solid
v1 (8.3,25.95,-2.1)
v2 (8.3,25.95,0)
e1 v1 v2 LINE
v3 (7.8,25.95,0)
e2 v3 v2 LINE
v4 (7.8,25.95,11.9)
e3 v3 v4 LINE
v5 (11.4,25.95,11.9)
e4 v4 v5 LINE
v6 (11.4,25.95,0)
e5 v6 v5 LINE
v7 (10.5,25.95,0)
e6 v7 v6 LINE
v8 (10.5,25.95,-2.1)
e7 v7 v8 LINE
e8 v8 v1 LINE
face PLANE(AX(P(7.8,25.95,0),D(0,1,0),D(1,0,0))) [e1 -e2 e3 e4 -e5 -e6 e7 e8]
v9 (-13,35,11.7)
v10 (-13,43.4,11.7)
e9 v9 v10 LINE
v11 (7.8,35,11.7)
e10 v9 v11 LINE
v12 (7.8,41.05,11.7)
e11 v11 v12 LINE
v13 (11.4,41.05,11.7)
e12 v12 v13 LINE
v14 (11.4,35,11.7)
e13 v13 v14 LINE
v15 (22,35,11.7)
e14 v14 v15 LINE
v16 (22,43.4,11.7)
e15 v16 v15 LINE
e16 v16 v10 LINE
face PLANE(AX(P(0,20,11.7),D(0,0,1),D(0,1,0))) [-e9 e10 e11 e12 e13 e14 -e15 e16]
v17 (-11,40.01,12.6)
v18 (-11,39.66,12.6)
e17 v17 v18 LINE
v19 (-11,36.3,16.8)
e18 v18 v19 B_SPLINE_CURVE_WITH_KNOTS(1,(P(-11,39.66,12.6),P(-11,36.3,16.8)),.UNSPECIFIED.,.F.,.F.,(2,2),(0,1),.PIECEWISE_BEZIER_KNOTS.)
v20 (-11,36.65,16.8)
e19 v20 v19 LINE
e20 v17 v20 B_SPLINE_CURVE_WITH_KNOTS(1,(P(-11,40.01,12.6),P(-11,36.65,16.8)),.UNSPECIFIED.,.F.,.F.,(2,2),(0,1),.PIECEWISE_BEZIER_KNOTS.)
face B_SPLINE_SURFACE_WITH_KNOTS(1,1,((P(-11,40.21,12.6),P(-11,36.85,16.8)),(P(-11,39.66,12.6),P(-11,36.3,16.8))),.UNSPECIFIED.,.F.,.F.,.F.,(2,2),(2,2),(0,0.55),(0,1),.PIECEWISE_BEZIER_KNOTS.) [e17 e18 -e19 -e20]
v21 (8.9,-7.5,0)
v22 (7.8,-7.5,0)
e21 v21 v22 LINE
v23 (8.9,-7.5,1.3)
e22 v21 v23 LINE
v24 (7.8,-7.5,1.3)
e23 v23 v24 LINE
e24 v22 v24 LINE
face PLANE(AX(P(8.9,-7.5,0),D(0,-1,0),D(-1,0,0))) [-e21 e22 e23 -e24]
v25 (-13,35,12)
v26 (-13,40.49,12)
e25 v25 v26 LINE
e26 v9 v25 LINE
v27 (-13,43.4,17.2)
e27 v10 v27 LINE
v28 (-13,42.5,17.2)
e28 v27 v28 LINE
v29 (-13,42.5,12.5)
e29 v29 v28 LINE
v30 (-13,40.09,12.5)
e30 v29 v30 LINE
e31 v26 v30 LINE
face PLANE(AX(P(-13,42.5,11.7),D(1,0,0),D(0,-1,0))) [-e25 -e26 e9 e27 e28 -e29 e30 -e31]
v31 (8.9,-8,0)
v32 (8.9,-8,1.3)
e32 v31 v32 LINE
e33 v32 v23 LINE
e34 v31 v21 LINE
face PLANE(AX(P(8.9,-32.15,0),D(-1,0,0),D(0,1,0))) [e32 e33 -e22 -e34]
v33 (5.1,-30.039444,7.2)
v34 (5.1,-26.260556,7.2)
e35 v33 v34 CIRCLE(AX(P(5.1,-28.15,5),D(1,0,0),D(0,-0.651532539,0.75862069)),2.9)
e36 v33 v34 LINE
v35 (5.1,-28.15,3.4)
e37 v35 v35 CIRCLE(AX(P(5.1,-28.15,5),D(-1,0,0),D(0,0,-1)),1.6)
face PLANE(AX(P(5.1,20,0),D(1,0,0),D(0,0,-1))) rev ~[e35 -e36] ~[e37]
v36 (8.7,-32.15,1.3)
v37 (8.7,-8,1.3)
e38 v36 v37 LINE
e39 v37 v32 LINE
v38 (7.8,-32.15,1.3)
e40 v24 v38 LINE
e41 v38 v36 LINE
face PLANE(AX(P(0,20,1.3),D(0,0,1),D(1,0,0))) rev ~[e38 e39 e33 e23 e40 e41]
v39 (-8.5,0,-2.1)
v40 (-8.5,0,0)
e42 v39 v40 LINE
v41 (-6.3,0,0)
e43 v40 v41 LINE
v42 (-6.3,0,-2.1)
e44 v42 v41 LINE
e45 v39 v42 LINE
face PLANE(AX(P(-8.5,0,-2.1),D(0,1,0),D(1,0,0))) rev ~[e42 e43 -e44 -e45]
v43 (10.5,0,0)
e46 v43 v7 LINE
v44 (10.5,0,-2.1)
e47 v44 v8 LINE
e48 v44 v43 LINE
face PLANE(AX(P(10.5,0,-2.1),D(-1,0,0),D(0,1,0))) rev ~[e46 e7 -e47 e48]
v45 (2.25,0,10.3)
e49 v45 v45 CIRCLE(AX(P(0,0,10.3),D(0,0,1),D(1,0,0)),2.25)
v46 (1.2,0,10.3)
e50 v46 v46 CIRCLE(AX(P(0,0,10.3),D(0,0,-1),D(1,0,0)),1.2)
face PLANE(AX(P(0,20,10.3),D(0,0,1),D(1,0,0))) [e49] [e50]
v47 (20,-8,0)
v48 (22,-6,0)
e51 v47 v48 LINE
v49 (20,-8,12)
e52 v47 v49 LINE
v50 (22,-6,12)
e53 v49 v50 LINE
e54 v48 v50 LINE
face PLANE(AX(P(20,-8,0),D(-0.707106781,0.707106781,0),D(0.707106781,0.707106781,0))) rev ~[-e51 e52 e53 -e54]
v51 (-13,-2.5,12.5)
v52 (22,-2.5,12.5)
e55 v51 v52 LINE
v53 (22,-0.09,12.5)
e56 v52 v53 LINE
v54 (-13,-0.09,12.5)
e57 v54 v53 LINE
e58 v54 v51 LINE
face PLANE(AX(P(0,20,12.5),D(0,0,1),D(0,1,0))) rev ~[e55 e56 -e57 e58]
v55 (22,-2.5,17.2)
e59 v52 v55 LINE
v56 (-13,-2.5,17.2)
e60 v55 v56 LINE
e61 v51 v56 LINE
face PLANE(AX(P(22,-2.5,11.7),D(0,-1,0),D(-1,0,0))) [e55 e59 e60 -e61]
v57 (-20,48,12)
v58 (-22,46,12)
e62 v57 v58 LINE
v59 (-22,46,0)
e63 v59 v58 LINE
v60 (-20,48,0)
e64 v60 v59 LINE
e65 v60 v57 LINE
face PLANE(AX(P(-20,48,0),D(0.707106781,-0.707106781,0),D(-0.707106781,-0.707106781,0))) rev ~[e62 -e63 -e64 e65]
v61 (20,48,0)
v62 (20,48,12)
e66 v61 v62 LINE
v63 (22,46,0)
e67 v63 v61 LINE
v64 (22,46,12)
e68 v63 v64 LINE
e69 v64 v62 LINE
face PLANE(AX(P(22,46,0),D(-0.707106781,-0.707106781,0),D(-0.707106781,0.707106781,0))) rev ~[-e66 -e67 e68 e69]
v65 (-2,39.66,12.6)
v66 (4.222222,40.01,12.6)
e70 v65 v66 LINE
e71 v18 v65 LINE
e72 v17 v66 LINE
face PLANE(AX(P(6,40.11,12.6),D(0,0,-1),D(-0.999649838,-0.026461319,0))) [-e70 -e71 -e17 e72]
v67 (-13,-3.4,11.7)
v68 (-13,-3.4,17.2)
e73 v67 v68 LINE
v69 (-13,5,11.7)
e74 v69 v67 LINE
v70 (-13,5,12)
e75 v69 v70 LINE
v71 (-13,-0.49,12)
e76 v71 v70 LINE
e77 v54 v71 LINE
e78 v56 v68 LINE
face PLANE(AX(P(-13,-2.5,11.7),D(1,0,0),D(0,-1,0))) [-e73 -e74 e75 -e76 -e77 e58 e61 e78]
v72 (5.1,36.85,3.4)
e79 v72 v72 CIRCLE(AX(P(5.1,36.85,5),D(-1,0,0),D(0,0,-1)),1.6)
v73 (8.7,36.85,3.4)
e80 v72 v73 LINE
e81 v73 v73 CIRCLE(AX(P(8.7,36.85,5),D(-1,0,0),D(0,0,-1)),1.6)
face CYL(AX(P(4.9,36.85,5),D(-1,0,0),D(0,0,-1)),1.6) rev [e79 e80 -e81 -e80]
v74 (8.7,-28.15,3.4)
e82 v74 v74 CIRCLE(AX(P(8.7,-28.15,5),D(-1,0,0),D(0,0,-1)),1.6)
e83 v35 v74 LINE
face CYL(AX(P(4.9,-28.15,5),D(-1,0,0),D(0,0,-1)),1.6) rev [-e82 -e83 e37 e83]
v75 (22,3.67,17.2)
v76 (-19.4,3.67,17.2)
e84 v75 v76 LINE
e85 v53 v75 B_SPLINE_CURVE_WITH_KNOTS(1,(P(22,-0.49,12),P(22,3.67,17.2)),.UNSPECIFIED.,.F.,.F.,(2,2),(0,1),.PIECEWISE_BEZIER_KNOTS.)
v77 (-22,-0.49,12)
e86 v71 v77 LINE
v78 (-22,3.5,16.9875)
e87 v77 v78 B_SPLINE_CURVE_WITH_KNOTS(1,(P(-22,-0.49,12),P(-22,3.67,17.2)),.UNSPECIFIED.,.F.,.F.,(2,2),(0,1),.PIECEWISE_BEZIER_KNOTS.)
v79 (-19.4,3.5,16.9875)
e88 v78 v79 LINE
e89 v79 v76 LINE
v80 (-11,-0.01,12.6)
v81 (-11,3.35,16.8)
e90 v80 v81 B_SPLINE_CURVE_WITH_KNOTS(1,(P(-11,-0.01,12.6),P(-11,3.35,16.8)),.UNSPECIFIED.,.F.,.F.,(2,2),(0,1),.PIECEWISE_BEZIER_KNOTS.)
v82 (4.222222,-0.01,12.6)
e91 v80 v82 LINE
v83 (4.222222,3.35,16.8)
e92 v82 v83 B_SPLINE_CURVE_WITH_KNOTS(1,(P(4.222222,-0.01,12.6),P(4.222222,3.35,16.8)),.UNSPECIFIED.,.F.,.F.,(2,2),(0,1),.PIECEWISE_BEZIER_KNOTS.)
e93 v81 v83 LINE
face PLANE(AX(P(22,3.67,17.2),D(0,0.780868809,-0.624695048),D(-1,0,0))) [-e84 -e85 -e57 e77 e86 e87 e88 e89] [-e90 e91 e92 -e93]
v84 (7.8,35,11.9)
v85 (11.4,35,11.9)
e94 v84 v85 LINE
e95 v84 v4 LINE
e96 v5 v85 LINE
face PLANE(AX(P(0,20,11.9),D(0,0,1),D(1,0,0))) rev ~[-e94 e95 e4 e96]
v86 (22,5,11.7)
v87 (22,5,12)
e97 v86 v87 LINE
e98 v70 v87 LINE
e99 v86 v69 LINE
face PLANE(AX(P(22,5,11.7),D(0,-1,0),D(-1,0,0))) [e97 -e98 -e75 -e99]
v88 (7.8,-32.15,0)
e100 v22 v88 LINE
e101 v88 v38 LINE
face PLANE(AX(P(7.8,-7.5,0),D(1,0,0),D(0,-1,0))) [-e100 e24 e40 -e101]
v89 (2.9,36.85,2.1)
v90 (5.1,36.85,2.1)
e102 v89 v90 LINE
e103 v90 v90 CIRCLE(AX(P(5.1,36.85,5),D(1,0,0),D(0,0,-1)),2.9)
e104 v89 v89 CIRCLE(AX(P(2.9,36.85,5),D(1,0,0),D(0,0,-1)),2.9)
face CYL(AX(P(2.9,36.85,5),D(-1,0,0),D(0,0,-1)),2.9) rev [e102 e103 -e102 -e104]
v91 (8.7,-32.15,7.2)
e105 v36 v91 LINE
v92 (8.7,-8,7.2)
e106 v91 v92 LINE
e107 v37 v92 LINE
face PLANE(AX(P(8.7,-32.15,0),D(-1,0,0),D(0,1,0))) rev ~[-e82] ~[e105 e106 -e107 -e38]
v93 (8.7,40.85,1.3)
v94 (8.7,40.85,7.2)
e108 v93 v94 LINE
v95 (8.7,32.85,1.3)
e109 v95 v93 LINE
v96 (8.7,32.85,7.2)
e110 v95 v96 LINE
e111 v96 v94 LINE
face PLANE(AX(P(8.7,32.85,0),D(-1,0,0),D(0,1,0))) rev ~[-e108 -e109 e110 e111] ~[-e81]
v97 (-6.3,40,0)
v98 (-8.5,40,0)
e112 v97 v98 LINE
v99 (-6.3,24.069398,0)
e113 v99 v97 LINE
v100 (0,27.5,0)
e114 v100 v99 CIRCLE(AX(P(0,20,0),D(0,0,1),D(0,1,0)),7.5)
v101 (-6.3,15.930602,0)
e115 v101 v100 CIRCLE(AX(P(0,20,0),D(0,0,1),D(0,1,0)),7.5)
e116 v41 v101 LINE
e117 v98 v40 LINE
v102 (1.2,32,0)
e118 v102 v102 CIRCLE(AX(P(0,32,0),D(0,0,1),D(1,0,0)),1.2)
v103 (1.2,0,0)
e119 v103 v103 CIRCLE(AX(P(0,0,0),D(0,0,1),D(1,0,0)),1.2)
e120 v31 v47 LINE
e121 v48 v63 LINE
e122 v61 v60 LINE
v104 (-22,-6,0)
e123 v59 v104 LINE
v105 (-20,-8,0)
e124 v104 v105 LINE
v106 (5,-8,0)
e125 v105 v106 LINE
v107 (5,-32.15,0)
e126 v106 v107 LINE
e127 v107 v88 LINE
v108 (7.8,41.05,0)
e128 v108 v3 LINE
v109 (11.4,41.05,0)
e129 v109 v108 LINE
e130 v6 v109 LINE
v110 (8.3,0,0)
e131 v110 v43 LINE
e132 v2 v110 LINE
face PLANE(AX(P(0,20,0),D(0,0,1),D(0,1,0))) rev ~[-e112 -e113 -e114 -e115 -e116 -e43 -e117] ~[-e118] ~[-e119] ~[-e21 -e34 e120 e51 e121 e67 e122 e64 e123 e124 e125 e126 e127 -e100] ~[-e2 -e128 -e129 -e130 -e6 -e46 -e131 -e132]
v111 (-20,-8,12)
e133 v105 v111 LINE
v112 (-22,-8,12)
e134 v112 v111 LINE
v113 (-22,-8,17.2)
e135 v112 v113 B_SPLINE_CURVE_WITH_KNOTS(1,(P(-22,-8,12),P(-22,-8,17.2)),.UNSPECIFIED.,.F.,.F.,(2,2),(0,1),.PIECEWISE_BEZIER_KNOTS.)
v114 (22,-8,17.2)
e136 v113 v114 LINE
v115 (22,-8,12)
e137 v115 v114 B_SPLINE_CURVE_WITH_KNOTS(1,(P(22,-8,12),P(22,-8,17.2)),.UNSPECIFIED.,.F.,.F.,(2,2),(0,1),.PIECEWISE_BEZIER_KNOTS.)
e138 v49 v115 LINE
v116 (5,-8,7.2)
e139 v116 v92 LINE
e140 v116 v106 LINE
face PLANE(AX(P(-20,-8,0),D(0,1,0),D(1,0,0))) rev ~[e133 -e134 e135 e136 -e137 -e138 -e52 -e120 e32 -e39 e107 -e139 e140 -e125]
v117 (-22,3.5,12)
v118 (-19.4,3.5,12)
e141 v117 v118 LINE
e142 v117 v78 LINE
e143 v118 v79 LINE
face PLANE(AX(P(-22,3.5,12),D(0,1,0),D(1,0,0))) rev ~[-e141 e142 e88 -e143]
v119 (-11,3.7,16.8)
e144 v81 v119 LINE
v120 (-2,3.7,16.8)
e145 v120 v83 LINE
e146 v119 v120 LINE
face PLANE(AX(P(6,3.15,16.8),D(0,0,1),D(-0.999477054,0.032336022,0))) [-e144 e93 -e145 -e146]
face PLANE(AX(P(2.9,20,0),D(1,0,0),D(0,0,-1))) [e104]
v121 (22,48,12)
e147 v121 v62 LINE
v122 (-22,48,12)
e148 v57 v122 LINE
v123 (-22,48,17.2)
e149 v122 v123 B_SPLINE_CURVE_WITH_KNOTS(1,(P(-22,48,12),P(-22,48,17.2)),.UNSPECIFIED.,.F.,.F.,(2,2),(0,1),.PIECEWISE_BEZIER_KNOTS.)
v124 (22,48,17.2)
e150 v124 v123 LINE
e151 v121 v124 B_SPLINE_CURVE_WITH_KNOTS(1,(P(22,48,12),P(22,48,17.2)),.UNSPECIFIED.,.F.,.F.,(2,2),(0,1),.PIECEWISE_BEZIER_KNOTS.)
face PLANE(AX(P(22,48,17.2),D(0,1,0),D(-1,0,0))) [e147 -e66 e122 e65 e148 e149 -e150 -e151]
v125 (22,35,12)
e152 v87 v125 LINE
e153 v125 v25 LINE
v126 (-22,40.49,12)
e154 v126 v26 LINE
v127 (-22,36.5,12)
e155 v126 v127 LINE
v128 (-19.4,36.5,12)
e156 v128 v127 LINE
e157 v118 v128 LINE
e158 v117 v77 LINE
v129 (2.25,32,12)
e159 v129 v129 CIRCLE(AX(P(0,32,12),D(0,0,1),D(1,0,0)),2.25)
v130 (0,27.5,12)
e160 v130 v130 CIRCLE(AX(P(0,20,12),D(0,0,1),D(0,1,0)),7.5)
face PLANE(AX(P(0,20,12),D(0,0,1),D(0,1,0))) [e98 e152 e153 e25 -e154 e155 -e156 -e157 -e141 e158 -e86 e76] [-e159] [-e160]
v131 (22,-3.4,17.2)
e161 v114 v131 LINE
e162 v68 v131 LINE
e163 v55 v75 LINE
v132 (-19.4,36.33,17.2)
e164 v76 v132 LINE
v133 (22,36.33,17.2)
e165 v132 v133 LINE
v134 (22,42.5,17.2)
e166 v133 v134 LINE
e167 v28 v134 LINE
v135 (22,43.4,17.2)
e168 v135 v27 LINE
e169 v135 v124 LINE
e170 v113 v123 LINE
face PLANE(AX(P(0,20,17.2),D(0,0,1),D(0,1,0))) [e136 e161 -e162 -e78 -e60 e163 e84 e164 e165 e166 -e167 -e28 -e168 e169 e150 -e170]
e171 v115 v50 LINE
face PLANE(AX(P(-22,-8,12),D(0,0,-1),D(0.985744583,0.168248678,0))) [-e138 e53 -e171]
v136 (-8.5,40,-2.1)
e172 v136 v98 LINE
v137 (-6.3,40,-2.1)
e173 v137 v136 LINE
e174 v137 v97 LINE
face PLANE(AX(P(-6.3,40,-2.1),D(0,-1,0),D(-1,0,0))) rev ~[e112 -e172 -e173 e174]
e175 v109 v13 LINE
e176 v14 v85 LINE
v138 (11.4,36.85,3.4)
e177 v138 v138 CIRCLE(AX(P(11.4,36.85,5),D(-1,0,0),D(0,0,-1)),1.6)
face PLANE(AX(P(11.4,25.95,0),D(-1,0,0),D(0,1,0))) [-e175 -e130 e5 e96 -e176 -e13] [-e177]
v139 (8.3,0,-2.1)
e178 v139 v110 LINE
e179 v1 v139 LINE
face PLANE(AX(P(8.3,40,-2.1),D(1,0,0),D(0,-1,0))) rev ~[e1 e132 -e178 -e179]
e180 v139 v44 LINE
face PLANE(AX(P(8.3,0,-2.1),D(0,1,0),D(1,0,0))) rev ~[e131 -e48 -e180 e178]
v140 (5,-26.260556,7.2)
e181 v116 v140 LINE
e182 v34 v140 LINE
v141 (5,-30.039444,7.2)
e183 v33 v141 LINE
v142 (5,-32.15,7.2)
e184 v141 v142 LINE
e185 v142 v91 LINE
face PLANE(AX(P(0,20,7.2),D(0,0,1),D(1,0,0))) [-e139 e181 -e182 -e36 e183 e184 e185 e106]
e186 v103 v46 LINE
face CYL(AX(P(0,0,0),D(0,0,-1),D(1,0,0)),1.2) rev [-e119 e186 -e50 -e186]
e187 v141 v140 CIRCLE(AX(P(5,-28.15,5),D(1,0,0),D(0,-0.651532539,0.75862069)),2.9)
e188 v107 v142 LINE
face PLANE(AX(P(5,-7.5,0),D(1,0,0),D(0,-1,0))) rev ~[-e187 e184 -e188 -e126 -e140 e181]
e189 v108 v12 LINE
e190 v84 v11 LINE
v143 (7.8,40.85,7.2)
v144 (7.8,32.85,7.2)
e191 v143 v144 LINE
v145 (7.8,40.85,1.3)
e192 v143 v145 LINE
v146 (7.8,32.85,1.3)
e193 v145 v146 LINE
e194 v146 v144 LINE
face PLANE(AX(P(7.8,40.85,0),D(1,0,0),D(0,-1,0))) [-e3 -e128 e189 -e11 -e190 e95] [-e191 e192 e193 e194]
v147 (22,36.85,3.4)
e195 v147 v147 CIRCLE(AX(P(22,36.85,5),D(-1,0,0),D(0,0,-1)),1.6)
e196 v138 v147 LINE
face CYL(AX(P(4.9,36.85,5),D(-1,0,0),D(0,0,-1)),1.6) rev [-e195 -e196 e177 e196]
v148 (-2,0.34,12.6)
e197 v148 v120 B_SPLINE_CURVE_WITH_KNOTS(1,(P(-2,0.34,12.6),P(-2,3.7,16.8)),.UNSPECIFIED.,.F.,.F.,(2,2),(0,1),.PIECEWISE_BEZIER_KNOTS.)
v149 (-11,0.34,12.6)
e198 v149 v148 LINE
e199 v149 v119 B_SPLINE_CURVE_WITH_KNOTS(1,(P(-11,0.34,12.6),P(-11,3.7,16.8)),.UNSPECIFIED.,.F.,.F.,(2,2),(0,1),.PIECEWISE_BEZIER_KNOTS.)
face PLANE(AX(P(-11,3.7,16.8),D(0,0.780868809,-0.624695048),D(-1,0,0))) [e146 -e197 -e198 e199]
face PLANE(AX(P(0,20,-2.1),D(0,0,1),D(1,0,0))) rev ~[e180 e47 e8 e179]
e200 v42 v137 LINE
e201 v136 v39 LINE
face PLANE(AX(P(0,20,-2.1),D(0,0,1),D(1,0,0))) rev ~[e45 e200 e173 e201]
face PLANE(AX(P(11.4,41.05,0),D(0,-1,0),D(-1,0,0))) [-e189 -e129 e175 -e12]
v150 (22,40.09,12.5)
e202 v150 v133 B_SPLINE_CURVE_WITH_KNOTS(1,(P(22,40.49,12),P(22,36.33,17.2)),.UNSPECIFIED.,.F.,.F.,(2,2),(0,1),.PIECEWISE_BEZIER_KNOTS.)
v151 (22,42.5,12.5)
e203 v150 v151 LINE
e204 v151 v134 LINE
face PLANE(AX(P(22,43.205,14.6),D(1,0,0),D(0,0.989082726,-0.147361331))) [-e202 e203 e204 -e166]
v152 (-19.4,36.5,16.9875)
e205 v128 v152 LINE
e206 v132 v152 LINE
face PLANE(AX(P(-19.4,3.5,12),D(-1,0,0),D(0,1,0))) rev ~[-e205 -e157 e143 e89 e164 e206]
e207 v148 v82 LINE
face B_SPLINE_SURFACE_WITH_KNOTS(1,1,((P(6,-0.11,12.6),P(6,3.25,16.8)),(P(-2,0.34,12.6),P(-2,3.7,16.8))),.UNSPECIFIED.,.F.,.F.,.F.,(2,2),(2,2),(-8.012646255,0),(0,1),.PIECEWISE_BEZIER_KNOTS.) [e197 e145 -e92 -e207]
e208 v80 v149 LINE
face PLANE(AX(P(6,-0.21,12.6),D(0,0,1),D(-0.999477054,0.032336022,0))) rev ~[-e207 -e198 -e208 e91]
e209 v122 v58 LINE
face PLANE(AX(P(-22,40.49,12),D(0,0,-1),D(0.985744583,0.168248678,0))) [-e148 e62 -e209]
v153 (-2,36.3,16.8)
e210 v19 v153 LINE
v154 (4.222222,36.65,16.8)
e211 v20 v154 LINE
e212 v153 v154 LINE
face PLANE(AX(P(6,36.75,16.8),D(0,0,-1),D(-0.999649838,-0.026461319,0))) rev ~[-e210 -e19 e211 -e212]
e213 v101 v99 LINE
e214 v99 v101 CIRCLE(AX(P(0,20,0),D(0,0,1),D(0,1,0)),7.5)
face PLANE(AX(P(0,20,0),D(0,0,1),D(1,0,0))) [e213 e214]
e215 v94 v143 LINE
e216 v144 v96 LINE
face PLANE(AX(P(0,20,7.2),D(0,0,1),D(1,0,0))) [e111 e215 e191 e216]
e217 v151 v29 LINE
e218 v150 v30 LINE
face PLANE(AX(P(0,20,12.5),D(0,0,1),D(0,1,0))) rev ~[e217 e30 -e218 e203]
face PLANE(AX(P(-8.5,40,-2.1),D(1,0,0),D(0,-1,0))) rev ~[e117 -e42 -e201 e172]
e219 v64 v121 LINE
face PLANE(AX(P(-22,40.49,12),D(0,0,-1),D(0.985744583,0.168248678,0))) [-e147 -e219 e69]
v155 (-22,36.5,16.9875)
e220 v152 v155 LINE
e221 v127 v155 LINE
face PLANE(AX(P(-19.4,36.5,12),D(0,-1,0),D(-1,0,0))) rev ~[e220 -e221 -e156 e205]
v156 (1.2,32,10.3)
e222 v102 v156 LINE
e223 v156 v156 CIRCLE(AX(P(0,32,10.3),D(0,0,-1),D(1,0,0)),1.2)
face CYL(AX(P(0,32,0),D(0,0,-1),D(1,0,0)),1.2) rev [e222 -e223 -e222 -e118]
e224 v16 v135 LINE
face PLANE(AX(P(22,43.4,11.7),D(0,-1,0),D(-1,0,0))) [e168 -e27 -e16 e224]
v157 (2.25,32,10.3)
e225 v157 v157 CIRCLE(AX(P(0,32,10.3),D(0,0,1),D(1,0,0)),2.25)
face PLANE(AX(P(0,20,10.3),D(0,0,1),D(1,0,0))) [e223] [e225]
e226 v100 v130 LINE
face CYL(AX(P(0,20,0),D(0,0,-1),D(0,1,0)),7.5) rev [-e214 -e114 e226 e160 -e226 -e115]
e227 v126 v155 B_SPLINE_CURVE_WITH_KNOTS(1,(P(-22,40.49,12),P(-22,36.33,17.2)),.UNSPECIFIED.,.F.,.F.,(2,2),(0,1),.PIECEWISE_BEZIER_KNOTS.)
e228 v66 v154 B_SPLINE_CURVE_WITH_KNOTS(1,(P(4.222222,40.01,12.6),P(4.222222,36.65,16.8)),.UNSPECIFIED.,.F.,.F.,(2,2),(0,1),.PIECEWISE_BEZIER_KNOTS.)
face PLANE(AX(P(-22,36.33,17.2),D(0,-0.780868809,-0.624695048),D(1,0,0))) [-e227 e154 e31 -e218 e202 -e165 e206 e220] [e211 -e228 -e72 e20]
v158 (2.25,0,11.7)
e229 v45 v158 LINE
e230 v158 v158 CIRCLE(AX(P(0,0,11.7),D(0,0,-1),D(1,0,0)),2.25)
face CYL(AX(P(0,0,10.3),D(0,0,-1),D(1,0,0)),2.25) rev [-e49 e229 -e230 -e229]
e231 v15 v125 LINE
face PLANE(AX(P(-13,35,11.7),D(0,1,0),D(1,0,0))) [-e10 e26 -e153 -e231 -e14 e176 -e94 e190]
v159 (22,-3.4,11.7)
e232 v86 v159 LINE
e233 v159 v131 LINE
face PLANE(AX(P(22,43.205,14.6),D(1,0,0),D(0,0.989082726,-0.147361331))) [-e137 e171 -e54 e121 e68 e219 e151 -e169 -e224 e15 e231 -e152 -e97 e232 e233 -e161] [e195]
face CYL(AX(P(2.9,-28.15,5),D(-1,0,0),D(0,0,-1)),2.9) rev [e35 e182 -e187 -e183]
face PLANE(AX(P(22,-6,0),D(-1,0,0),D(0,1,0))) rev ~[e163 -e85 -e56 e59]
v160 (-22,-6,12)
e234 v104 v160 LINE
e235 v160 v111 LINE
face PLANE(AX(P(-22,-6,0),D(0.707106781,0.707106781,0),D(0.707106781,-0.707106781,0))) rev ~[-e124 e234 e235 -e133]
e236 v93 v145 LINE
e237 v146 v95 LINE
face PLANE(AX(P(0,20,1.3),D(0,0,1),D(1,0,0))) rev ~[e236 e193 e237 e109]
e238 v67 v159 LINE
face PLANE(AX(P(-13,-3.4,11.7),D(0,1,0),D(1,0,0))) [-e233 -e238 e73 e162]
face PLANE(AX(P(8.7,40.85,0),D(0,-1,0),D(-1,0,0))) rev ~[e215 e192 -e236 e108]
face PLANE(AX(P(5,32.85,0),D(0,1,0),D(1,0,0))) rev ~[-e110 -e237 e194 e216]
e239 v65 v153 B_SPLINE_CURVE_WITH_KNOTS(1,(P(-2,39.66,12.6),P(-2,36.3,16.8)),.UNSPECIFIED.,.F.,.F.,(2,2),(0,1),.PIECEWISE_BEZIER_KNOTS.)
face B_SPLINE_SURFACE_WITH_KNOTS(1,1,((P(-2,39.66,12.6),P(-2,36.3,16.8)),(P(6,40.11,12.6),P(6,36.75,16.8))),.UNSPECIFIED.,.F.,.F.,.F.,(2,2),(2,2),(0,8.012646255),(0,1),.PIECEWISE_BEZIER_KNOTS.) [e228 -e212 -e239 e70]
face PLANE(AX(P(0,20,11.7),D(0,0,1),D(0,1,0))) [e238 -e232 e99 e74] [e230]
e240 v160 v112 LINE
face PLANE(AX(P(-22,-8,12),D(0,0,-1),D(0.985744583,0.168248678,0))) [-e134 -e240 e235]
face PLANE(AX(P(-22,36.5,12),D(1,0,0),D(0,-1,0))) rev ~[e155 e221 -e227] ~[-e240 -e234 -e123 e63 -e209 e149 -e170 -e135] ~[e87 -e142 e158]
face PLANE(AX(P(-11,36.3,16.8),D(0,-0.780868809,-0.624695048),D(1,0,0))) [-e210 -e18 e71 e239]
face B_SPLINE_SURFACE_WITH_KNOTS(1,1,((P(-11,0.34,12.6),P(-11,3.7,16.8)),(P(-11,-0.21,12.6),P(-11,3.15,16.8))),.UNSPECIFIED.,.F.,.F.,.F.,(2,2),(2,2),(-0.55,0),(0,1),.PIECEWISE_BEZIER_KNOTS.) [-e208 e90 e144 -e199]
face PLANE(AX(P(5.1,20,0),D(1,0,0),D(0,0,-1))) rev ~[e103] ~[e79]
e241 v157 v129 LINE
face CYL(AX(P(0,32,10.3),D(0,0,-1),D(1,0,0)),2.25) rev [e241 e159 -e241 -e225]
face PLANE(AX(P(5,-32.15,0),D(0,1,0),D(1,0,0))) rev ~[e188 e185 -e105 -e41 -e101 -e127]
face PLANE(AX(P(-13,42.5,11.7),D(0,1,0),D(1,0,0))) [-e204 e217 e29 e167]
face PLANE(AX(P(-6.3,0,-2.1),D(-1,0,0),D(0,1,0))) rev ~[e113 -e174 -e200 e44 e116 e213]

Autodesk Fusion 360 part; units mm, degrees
ref_plane "工作平面1" through (0, 0, 0) normal (0, 0, 1) x (1, 0, 0)
sketch "草图1" plane through (0, 0, 0) normal (0, 0, 1) x (1, 0, 0)
  line L0 (-26, -22) -> (26, -22)
  line L1 (26, -22) -> (28, -20)
  line L2 (28, -20) -> (28, 20)
  line L3 (28, 20) -> (26, 22)
  line L4 (26, 22) -> (-26, 22)
  line L5 (-26, 22) -> (-28, 20)
  line L6 (-28, 20) -> (-28, -20)
  line L7 (-28, -20) -> (-26, -22)
extrude "56 x 44 x 7 platform" add sketch "草图1" along normal blind 12
ref_plane "工作平面2" through (0, 0, 12) normal (0, 0, 1) x (1, 0, 0)
sketch "草图2" plane through (0, 0, 12) normal (0, 0, 1) x (1, 0, 0)
  line L0 (-28, -22) -> (-20.49, -22)
  line L1 (-20.49, -22) -> (-20.49, 22)
  line L2 (-20.49, 22) -> (-28, 22)
  line L3 (-28, 22) -> (-28, -22)
ref_plane "工作平面3" through (0, 0, 17.2) normal (0, 0, 1) x (1, 0, 0)
sketch "草图3" plane through (0, 0, 17.2) normal (0, 0, 1) x (1, 0, 0)
  line L0 (-28, -22) -> (-16.33, -22)
  line L1 (-16.33, -22) -> (-16.33, 22)
  line L2 (-16.33, 22) -> (-28, 22)
  line L3 (-28, 22) -> (-28, -22)
loft "Dovetail retaining rail 0.8 to 1 -1" add profiles "草图2", "草图3" section 1 section 2
ref_plane "工作平面4" through (0, 0, 11.7) normal (0, 0, 1) x (1, 0, 0)
sketch "草图4" plane through (0, 0, 11.7) normal (0, 0, 1) x (1, 0, 0)
  line L0 (-23.4, -22) -> (-22.5, -22)
  line L1 (-22.5, -22) -> (-22.5, 13)
  line L2 (-22.5, 13) -> (-23.4, 13)
  line L3 (-23.4, 13) -> (-23.4, -22)
extrude "0.9 mm longitudinal flexure slot -1" cut sketch "草图4" along normal blind 5.8
ref_plane "工作平面5" through (0, 0, 11.7) normal (0, 0, 1) x (1, 0, 0)
sketch "草图5" plane through (0, 0, 11.7) normal (0, 0, 1) x (1, 0, 0)
  line L0 (-22.5, -22) -> (-15, -22)
  line L1 (-15, -22) -> (-15, 13)
  line L2 (-15, 13) -> (-22.5, 13)
  line L3 (-22.5, 13) -> (-22.5, -22)
extrude "0.8 mm flexure underside relief -1" cut sketch "草图5" along normal blind 0.8
ref_plane "工作平面6" through (0, 0, 12.6) normal (0, 0, 1) x (1, 0, 0)
sketch "草图6" plane through (0, 0, 12.6) normal (0, 0, 1) x (1, 0, 0)
  line L0 (-20.21, -6) -> (-20.21, 11)
  line L1 (-20.21, 11) -> (-19.66, 11)
  line L2 (-19.66, 11) -> (-19.66, 2)
  line L3 (-19.66, 2) -> (-20.11, -6)
  line L4 (-20.11, -6) -> (-20.21, -6)
ref_plane "工作平面7" through (0, 0, 16.8) normal (0, 0, 1) x (1, 0, 0)
sketch "草图7" plane through (0, 0, 16.8) normal (0, 0, 1) x (1, 0, 0)
  line L0 (-16.85, -6) -> (-16.85, 11)
  line L1 (-16.85, 11) -> (-16.3, 11)
  line L2 (-16.3, 11) -> (-16.3, 2)
  line L3 (-16.3, 2) -> (-16.75, -6)
  line L4 (-16.75, -6) -> (-16.85, -6)
loft "Tapered friction contact rib -1" add profiles "草图6", "草图7" section 1 section 2
ref_plane "工作平面8" through (0, 0, 12) normal (0, 0, 1) x (1, 0, 0)
sketch "草图8" plane through (0, 0, 12) normal (0, 0, 1) x (1, 0, 0)
  line L0 (20.49, -22) -> (28, -22)
  line L1 (28, -22) -> (28, 22)
  line L2 (28, 22) -> (20.49, 22)
  line L3 (20.49, 22) -> (20.49, -22)
ref_plane "工作平面9" through (0, 0, 17.2) normal (0, 0, 1) x (1, 0, 0)
sketch "草图9" plane through (0, 0, 17.2) normal (0, 0, 1) x (1, 0, 0)
  line L0 (16.33, -22) -> (28, -22)
  line L1 (28, -22) -> (28, 22)
  line L2 (28, 22) -> (16.33, 22)
  line L3 (16.33, 22) -> (16.33, -22)
loft "Dovetail retaining rail 0.8 to 1 1" add profiles "草图8", "草图9" section 1 section 2
ref_plane "工作平面10" through (0, 0, 11.7) normal (0, 0, 1) x (1, 0, 0)
sketch "草图10" plane through (0, 0, 11.7) normal (0, 0, 1) x (1, 0, 0)
  line L0 (22.5, -22) -> (23.4, -22)
  line L1 (23.4, -22) -> (23.4, 13)
  line L2 (23.4, 13) -> (22.5, 13)
  line L3 (22.5, 13) -> (22.5, -22)
extrude "0.9 mm longitudinal flexure slot 1" cut sketch "草图10" along normal blind 5.8
ref_plane "工作平面11" through (0, 0, 11.7) normal (0, 0, 1) x (1, 0, 0)
sketch "草图11" plane through (0, 0, 11.7) normal (0, 0, 1) x (1, 0, 0)
  line L0 (15, -22) -> (22.5, -22)
  line L1 (22.5, -22) -> (22.5, 13)
  line L2 (22.5, 13) -> (15, 13)
  line L3 (15, 13) -> (15, -22)
extrude "0.8 mm flexure underside relief 1" cut sketch "草图11" along normal blind 0.8
ref_plane "工作平面12" through (0, 0, 12.6) normal (0, 0, 1) x (1, 0, 0)
sketch "草图12" plane through (0, 0, 12.6) normal (0, 0, 1) x (1, 0, 0)
  line L0 (20.21, -6) -> (20.21, 11)
  line L1 (20.21, 11) -> (19.66, 11)
  line L2 (19.66, 11) -> (19.66, 2)
  line L3 (19.66, 2) -> (20.11, -6)
  line L4 (20.11, -6) -> (20.21, -6)
ref_plane "工作平面13" through (0, 0, 16.8) normal (0, 0, 1) x (1, 0, 0)
sketch "草图13" plane through (0, 0, 16.8) normal (0, 0, 1) x (1, 0, 0)
  line L0 (16.85, -6) -> (16.85, 11)
  line L1 (16.85, 11) -> (16.3, 11)
  line L2 (16.3, 11) -> (16.3, 2)
  line L3 (16.3, 2) -> (16.75, -6)
  line L4 (16.75, -6) -> (16.85, -6)
loft "Tapered friction contact rib 1" add profiles "草图12", "草图13" section 1 section 2
ref_plane "工作平面14" through (0, 0, 12) normal (0, 0, 1) x (1, 0, 0)
sketch "草图14" plane through (0, 0, 12) normal (0, 0, 1) x (1, 0, 0)
  line L0 (-16.5, 19.4) -> (16.5, 19.4)
  line L1 (16.5, 19.4) -> (16.5, 22)
  line L2 (16.5, 22) -> (-16.5, 22)
  line L3 (-16.5, 22) -> (-16.5, 19.4)
extrude "Closed insertion end stop" add sketch "草图14" along normal blind 5.2
ref_plane "工作平面15" through (0, 0, 0) normal (0, 0, 1) x (1, 0, 0)
sketch "草图15" plane through (0, 0, 0) normal (0, 0, 1) x (1, 0, 0)
  circle A0 centre (0, 0) radius 7.5
extrude "15 mm screw and driver access" cut sketch "草图15" along normal blind 12
move_body "Align camera long edge with gimbal arm - 90 degrees" bodies 1 to x (0, 1, 0) y (-1, 0, 0) z (0, 0, 1) at (0, 0, 0)
ref_plane "工作平面16" through (0, 0, 0) normal (0, 0, 1) x (1, 0, 0)
sketch "草图16" plane through (0, 0, 0) normal (0, 0, 1) x (1, 0, 0)
  line L0 (7.8, 5.95) -> (11.4, 5.95)
  line L1 (11.4, 5.95) -> (11.4, 21.05)
  line L2 (11.4, 21.05) -> (7.8, 21.05)
  line L3 (7.8, 21.05) -> (7.8, 5.95)
extrude "Clear original raised tab and root fillet" cut sketch "草图16" along normal blind 11.9
ref_plane "工作平面17" through (0, 0, -2.1) normal (0, 0, 1) x (1, 0, 0)
sketch "草图17" plane through (0, 0, -2.1) normal (0, 0, 1) x (1, 0, 0)
  line L0 (-8.5, -20) -> (-6.3, -20)
  line L1 (-6.3, -20) -> (-6.3, 20)
  line L2 (-6.3, 20) -> (-8.5, 20)
  line L3 (-8.5, 20) -> (-8.5, -20)
extrude "Arm lateral locating shoulder" add sketch "草图17" along normal blind 2.1
ref_plane "工作平面18" through (0, 0, -2.1) normal (0, 0, 1) x (1, 0, 0)
sketch "草图18" plane through (0, 0, -2.1) normal (0, 0, 1) x (1, 0, 0)
  line L0 (8.3, -20) -> (10.5, -20)
  line L1 (10.5, -20) -> (10.5, 20)
  line L2 (10.5, 20) -> (8.3, 20)
  line L3 (8.3, 20) -> (8.3, -20)
extrude "Arm lateral locating shoulder (1)" add sketch "草图18" along normal blind 2.1
ref_plane "工作平面19" through (0, 0, 0) normal (0, 0, 1) x (1, 0, 0)
sketch "草图19" plane through (0, 0, 0) normal (0, 0, 1) x (1, 0, 0)
  circle A0 centre (0, -20) radius 1.2
extrude "M2 through clearance at y -20.0" cut sketch "草图19" along normal blind 12
ref_plane "工作平面20" through (0, 0, 10.3) normal (0, 0, 1) x (1, 0, 0)
sketch "草图20" plane through (0, 0, 10.3) normal (0, 0, 1) x (1, 0, 0)
  circle A0 centre (0, -20) radius 2.25
extrude "M2 head recess at y -20.0" cut sketch "草图20" along normal blind 1.7
ref_plane "工作平面21" through (0, 0, 0) normal (0, 0, 1) x (1, 0, 0)
sketch "草图21" plane through (0, 0, 0) normal (0, 0, 1) x (1, 0, 0)
  circle A0 centre (0, 12) radius 1.2
extrude "M2 through clearance at y 12.0" cut sketch "草图21" along normal blind 12
ref_plane "工作平面22" through (0, 0, 10.3) normal (0, 0, 1) x (1, 0, 0)
sketch "草图22" plane through (0, 0, 10.3) normal (0, 0, 1) x (1, 0, 0)
  circle A0 centre (0, 12) radius 2.25
extrude "M2 head recess at y 12.0" cut sketch "草图22" along normal blind 1.7
ref_plane "工作平面23" through (0, 0, 0) normal (0, 0, 1) x (1, 0, 0)
sketch "草图23" plane through (0, 0, 0) normal (0, 0, 1) x (1, 0, 0)
  line L0 (5, -52.15) -> (8.7, -52.15)
  line L1 (8.7, -52.15) -> (8.7, -27.5)
  line L2 (8.7, -27.5) -> (5, -27.5)
  line L3 (5, -27.5) -> (5, -52.15)
extrude "Ear for original 3.2 mm side hole at arm y -28.15" add sketch "草图23" along normal blind 7.2
ref_plane "工作平面24" through (0, 0, 0) normal (0, 0, 1) x (1, 0, 0)
sketch "草图24" plane through (0, 0, 0) normal (0, 0, 1) x (1, 0, 0)
  line L0 (7.8, -52.15) -> (8.9, -52.15)
  line L1 (8.9, -52.15) -> (8.9, -27.5)
  line L2 (8.9, -27.5) -> (7.8, -27.5)
  line L3 (7.8, -27.5) -> (7.8, -52.15)
extrude "Ear relief around original arm root radius" cut sketch "草图24" along normal blind 1.3
ref_plane "工作平面25" through (4.9, 0, 0) normal (1, 0, 0) x (0, 1, 0)
sketch "草图25" plane through (4.9, 0, 0) normal (1, 0, 0) x (0, 0, -1)
  circle A0 centre (-5, -48.15) radius 1.6
extrude "Side rivet full passage clearance" cut sketch "草图25" along normal blind 20
ref_plane "工作平面26" through (2.9, 0, 0) normal (1, 0, 0) x (0, 1, 0)
sketch "草图26" plane through (2.9, 0, 0) normal (1, 0, 0) x (0, 0, -1)
  circle A0 centre (-5, -48.15) radius 2.9
extrude "Side rivet flange counterbore" cut sketch "草图26" along normal blind 2.2
ref_plane "工作平面27" through (0, 0, 0) normal (0, 0, 1) x (1, 0, 0)
sketch "草图27" plane through (0, 0, 0) normal (0, 0, 1) x (1, 0, 0)
  line L0 (5, 12.85) -> (8.7, 12.85)
  line L1 (8.7, 12.85) -> (8.7, 20.85)
  line L2 (8.7, 20.85) -> (5, 20.85)
  line L3 (5, 20.85) -> (5, 12.85)
extrude "Ear for original 3.2 mm side hole at arm y 36.85" add sketch "草图27" along normal blind 7.2
ref_plane "工作平面28" through (0, 0, 0) normal (0, 0, 1) x (1, 0, 0)
sketch "草图28" plane through (0, 0, 0) normal (0, 0, 1) x (1, 0, 0)
  line L0 (7.8, 12.85) -> (8.9, 12.85)
  line L1 (8.9, 12.85) -> (8.9, 20.85)
  line L2 (8.9, 20.85) -> (7.8, 20.85)
  line L3 (7.8, 20.85) -> (7.8, 12.85)
extrude "Ear relief around original arm root radius (1)" cut sketch "草图28" along normal blind 1.3
ref_plane "工作平面29" through (4.9, 0, 0) normal (1, 0, 0) x (0, 1, 0)
sketch "草图29" plane through (4.9, 0, 0) normal (1, 0, 0) x (0, 0, -1)
  circle A0 centre (-5, 16.85) radius 1.6
extrude "Side rivet full passage clearance (1)" cut sketch "草图29" along normal blind 20
ref_plane "工作平面30" through (2.9, 0, 0) normal (1, 0, 0) x (0, 1, 0)
sketch "草图30" plane through (2.9, 0, 0) normal (1, 0, 0) x (0, 0, -1)
  circle A0 centre (-5, 16.85) radius 2.9
extrude "Side rivet flange counterbore (1)" cut sketch "草图30" along normal blind 2.2
move_body "Move outward toward free end 20.0 mm" bodies 1 to x (1, 0, 0) y (0, 1, 0) z (0, 0, 1) at (0, 20, 0)
ref_plane "工作平面31" through (0, 0, -2.11) normal (0, 0, 1) x (1, 0, 0)
sketch "草图31" plane through (0, 0, -2.11) normal (0, 0, 1) x (1, 0, 0)
  line L0 (8.29, 25.95) -> (10.51, 25.95)
  line L1 (10.51, 25.95) -> (10.51, 40.05)
  line L2 (10.51, 40.05) -> (8.29, 40.05)
  line L3 (8.29, 40.05) -> (8.29, 25.95)
extrude "Trim locating shoulder before raised side ear root" cut sketch "草图31" along normal blind 2.11
